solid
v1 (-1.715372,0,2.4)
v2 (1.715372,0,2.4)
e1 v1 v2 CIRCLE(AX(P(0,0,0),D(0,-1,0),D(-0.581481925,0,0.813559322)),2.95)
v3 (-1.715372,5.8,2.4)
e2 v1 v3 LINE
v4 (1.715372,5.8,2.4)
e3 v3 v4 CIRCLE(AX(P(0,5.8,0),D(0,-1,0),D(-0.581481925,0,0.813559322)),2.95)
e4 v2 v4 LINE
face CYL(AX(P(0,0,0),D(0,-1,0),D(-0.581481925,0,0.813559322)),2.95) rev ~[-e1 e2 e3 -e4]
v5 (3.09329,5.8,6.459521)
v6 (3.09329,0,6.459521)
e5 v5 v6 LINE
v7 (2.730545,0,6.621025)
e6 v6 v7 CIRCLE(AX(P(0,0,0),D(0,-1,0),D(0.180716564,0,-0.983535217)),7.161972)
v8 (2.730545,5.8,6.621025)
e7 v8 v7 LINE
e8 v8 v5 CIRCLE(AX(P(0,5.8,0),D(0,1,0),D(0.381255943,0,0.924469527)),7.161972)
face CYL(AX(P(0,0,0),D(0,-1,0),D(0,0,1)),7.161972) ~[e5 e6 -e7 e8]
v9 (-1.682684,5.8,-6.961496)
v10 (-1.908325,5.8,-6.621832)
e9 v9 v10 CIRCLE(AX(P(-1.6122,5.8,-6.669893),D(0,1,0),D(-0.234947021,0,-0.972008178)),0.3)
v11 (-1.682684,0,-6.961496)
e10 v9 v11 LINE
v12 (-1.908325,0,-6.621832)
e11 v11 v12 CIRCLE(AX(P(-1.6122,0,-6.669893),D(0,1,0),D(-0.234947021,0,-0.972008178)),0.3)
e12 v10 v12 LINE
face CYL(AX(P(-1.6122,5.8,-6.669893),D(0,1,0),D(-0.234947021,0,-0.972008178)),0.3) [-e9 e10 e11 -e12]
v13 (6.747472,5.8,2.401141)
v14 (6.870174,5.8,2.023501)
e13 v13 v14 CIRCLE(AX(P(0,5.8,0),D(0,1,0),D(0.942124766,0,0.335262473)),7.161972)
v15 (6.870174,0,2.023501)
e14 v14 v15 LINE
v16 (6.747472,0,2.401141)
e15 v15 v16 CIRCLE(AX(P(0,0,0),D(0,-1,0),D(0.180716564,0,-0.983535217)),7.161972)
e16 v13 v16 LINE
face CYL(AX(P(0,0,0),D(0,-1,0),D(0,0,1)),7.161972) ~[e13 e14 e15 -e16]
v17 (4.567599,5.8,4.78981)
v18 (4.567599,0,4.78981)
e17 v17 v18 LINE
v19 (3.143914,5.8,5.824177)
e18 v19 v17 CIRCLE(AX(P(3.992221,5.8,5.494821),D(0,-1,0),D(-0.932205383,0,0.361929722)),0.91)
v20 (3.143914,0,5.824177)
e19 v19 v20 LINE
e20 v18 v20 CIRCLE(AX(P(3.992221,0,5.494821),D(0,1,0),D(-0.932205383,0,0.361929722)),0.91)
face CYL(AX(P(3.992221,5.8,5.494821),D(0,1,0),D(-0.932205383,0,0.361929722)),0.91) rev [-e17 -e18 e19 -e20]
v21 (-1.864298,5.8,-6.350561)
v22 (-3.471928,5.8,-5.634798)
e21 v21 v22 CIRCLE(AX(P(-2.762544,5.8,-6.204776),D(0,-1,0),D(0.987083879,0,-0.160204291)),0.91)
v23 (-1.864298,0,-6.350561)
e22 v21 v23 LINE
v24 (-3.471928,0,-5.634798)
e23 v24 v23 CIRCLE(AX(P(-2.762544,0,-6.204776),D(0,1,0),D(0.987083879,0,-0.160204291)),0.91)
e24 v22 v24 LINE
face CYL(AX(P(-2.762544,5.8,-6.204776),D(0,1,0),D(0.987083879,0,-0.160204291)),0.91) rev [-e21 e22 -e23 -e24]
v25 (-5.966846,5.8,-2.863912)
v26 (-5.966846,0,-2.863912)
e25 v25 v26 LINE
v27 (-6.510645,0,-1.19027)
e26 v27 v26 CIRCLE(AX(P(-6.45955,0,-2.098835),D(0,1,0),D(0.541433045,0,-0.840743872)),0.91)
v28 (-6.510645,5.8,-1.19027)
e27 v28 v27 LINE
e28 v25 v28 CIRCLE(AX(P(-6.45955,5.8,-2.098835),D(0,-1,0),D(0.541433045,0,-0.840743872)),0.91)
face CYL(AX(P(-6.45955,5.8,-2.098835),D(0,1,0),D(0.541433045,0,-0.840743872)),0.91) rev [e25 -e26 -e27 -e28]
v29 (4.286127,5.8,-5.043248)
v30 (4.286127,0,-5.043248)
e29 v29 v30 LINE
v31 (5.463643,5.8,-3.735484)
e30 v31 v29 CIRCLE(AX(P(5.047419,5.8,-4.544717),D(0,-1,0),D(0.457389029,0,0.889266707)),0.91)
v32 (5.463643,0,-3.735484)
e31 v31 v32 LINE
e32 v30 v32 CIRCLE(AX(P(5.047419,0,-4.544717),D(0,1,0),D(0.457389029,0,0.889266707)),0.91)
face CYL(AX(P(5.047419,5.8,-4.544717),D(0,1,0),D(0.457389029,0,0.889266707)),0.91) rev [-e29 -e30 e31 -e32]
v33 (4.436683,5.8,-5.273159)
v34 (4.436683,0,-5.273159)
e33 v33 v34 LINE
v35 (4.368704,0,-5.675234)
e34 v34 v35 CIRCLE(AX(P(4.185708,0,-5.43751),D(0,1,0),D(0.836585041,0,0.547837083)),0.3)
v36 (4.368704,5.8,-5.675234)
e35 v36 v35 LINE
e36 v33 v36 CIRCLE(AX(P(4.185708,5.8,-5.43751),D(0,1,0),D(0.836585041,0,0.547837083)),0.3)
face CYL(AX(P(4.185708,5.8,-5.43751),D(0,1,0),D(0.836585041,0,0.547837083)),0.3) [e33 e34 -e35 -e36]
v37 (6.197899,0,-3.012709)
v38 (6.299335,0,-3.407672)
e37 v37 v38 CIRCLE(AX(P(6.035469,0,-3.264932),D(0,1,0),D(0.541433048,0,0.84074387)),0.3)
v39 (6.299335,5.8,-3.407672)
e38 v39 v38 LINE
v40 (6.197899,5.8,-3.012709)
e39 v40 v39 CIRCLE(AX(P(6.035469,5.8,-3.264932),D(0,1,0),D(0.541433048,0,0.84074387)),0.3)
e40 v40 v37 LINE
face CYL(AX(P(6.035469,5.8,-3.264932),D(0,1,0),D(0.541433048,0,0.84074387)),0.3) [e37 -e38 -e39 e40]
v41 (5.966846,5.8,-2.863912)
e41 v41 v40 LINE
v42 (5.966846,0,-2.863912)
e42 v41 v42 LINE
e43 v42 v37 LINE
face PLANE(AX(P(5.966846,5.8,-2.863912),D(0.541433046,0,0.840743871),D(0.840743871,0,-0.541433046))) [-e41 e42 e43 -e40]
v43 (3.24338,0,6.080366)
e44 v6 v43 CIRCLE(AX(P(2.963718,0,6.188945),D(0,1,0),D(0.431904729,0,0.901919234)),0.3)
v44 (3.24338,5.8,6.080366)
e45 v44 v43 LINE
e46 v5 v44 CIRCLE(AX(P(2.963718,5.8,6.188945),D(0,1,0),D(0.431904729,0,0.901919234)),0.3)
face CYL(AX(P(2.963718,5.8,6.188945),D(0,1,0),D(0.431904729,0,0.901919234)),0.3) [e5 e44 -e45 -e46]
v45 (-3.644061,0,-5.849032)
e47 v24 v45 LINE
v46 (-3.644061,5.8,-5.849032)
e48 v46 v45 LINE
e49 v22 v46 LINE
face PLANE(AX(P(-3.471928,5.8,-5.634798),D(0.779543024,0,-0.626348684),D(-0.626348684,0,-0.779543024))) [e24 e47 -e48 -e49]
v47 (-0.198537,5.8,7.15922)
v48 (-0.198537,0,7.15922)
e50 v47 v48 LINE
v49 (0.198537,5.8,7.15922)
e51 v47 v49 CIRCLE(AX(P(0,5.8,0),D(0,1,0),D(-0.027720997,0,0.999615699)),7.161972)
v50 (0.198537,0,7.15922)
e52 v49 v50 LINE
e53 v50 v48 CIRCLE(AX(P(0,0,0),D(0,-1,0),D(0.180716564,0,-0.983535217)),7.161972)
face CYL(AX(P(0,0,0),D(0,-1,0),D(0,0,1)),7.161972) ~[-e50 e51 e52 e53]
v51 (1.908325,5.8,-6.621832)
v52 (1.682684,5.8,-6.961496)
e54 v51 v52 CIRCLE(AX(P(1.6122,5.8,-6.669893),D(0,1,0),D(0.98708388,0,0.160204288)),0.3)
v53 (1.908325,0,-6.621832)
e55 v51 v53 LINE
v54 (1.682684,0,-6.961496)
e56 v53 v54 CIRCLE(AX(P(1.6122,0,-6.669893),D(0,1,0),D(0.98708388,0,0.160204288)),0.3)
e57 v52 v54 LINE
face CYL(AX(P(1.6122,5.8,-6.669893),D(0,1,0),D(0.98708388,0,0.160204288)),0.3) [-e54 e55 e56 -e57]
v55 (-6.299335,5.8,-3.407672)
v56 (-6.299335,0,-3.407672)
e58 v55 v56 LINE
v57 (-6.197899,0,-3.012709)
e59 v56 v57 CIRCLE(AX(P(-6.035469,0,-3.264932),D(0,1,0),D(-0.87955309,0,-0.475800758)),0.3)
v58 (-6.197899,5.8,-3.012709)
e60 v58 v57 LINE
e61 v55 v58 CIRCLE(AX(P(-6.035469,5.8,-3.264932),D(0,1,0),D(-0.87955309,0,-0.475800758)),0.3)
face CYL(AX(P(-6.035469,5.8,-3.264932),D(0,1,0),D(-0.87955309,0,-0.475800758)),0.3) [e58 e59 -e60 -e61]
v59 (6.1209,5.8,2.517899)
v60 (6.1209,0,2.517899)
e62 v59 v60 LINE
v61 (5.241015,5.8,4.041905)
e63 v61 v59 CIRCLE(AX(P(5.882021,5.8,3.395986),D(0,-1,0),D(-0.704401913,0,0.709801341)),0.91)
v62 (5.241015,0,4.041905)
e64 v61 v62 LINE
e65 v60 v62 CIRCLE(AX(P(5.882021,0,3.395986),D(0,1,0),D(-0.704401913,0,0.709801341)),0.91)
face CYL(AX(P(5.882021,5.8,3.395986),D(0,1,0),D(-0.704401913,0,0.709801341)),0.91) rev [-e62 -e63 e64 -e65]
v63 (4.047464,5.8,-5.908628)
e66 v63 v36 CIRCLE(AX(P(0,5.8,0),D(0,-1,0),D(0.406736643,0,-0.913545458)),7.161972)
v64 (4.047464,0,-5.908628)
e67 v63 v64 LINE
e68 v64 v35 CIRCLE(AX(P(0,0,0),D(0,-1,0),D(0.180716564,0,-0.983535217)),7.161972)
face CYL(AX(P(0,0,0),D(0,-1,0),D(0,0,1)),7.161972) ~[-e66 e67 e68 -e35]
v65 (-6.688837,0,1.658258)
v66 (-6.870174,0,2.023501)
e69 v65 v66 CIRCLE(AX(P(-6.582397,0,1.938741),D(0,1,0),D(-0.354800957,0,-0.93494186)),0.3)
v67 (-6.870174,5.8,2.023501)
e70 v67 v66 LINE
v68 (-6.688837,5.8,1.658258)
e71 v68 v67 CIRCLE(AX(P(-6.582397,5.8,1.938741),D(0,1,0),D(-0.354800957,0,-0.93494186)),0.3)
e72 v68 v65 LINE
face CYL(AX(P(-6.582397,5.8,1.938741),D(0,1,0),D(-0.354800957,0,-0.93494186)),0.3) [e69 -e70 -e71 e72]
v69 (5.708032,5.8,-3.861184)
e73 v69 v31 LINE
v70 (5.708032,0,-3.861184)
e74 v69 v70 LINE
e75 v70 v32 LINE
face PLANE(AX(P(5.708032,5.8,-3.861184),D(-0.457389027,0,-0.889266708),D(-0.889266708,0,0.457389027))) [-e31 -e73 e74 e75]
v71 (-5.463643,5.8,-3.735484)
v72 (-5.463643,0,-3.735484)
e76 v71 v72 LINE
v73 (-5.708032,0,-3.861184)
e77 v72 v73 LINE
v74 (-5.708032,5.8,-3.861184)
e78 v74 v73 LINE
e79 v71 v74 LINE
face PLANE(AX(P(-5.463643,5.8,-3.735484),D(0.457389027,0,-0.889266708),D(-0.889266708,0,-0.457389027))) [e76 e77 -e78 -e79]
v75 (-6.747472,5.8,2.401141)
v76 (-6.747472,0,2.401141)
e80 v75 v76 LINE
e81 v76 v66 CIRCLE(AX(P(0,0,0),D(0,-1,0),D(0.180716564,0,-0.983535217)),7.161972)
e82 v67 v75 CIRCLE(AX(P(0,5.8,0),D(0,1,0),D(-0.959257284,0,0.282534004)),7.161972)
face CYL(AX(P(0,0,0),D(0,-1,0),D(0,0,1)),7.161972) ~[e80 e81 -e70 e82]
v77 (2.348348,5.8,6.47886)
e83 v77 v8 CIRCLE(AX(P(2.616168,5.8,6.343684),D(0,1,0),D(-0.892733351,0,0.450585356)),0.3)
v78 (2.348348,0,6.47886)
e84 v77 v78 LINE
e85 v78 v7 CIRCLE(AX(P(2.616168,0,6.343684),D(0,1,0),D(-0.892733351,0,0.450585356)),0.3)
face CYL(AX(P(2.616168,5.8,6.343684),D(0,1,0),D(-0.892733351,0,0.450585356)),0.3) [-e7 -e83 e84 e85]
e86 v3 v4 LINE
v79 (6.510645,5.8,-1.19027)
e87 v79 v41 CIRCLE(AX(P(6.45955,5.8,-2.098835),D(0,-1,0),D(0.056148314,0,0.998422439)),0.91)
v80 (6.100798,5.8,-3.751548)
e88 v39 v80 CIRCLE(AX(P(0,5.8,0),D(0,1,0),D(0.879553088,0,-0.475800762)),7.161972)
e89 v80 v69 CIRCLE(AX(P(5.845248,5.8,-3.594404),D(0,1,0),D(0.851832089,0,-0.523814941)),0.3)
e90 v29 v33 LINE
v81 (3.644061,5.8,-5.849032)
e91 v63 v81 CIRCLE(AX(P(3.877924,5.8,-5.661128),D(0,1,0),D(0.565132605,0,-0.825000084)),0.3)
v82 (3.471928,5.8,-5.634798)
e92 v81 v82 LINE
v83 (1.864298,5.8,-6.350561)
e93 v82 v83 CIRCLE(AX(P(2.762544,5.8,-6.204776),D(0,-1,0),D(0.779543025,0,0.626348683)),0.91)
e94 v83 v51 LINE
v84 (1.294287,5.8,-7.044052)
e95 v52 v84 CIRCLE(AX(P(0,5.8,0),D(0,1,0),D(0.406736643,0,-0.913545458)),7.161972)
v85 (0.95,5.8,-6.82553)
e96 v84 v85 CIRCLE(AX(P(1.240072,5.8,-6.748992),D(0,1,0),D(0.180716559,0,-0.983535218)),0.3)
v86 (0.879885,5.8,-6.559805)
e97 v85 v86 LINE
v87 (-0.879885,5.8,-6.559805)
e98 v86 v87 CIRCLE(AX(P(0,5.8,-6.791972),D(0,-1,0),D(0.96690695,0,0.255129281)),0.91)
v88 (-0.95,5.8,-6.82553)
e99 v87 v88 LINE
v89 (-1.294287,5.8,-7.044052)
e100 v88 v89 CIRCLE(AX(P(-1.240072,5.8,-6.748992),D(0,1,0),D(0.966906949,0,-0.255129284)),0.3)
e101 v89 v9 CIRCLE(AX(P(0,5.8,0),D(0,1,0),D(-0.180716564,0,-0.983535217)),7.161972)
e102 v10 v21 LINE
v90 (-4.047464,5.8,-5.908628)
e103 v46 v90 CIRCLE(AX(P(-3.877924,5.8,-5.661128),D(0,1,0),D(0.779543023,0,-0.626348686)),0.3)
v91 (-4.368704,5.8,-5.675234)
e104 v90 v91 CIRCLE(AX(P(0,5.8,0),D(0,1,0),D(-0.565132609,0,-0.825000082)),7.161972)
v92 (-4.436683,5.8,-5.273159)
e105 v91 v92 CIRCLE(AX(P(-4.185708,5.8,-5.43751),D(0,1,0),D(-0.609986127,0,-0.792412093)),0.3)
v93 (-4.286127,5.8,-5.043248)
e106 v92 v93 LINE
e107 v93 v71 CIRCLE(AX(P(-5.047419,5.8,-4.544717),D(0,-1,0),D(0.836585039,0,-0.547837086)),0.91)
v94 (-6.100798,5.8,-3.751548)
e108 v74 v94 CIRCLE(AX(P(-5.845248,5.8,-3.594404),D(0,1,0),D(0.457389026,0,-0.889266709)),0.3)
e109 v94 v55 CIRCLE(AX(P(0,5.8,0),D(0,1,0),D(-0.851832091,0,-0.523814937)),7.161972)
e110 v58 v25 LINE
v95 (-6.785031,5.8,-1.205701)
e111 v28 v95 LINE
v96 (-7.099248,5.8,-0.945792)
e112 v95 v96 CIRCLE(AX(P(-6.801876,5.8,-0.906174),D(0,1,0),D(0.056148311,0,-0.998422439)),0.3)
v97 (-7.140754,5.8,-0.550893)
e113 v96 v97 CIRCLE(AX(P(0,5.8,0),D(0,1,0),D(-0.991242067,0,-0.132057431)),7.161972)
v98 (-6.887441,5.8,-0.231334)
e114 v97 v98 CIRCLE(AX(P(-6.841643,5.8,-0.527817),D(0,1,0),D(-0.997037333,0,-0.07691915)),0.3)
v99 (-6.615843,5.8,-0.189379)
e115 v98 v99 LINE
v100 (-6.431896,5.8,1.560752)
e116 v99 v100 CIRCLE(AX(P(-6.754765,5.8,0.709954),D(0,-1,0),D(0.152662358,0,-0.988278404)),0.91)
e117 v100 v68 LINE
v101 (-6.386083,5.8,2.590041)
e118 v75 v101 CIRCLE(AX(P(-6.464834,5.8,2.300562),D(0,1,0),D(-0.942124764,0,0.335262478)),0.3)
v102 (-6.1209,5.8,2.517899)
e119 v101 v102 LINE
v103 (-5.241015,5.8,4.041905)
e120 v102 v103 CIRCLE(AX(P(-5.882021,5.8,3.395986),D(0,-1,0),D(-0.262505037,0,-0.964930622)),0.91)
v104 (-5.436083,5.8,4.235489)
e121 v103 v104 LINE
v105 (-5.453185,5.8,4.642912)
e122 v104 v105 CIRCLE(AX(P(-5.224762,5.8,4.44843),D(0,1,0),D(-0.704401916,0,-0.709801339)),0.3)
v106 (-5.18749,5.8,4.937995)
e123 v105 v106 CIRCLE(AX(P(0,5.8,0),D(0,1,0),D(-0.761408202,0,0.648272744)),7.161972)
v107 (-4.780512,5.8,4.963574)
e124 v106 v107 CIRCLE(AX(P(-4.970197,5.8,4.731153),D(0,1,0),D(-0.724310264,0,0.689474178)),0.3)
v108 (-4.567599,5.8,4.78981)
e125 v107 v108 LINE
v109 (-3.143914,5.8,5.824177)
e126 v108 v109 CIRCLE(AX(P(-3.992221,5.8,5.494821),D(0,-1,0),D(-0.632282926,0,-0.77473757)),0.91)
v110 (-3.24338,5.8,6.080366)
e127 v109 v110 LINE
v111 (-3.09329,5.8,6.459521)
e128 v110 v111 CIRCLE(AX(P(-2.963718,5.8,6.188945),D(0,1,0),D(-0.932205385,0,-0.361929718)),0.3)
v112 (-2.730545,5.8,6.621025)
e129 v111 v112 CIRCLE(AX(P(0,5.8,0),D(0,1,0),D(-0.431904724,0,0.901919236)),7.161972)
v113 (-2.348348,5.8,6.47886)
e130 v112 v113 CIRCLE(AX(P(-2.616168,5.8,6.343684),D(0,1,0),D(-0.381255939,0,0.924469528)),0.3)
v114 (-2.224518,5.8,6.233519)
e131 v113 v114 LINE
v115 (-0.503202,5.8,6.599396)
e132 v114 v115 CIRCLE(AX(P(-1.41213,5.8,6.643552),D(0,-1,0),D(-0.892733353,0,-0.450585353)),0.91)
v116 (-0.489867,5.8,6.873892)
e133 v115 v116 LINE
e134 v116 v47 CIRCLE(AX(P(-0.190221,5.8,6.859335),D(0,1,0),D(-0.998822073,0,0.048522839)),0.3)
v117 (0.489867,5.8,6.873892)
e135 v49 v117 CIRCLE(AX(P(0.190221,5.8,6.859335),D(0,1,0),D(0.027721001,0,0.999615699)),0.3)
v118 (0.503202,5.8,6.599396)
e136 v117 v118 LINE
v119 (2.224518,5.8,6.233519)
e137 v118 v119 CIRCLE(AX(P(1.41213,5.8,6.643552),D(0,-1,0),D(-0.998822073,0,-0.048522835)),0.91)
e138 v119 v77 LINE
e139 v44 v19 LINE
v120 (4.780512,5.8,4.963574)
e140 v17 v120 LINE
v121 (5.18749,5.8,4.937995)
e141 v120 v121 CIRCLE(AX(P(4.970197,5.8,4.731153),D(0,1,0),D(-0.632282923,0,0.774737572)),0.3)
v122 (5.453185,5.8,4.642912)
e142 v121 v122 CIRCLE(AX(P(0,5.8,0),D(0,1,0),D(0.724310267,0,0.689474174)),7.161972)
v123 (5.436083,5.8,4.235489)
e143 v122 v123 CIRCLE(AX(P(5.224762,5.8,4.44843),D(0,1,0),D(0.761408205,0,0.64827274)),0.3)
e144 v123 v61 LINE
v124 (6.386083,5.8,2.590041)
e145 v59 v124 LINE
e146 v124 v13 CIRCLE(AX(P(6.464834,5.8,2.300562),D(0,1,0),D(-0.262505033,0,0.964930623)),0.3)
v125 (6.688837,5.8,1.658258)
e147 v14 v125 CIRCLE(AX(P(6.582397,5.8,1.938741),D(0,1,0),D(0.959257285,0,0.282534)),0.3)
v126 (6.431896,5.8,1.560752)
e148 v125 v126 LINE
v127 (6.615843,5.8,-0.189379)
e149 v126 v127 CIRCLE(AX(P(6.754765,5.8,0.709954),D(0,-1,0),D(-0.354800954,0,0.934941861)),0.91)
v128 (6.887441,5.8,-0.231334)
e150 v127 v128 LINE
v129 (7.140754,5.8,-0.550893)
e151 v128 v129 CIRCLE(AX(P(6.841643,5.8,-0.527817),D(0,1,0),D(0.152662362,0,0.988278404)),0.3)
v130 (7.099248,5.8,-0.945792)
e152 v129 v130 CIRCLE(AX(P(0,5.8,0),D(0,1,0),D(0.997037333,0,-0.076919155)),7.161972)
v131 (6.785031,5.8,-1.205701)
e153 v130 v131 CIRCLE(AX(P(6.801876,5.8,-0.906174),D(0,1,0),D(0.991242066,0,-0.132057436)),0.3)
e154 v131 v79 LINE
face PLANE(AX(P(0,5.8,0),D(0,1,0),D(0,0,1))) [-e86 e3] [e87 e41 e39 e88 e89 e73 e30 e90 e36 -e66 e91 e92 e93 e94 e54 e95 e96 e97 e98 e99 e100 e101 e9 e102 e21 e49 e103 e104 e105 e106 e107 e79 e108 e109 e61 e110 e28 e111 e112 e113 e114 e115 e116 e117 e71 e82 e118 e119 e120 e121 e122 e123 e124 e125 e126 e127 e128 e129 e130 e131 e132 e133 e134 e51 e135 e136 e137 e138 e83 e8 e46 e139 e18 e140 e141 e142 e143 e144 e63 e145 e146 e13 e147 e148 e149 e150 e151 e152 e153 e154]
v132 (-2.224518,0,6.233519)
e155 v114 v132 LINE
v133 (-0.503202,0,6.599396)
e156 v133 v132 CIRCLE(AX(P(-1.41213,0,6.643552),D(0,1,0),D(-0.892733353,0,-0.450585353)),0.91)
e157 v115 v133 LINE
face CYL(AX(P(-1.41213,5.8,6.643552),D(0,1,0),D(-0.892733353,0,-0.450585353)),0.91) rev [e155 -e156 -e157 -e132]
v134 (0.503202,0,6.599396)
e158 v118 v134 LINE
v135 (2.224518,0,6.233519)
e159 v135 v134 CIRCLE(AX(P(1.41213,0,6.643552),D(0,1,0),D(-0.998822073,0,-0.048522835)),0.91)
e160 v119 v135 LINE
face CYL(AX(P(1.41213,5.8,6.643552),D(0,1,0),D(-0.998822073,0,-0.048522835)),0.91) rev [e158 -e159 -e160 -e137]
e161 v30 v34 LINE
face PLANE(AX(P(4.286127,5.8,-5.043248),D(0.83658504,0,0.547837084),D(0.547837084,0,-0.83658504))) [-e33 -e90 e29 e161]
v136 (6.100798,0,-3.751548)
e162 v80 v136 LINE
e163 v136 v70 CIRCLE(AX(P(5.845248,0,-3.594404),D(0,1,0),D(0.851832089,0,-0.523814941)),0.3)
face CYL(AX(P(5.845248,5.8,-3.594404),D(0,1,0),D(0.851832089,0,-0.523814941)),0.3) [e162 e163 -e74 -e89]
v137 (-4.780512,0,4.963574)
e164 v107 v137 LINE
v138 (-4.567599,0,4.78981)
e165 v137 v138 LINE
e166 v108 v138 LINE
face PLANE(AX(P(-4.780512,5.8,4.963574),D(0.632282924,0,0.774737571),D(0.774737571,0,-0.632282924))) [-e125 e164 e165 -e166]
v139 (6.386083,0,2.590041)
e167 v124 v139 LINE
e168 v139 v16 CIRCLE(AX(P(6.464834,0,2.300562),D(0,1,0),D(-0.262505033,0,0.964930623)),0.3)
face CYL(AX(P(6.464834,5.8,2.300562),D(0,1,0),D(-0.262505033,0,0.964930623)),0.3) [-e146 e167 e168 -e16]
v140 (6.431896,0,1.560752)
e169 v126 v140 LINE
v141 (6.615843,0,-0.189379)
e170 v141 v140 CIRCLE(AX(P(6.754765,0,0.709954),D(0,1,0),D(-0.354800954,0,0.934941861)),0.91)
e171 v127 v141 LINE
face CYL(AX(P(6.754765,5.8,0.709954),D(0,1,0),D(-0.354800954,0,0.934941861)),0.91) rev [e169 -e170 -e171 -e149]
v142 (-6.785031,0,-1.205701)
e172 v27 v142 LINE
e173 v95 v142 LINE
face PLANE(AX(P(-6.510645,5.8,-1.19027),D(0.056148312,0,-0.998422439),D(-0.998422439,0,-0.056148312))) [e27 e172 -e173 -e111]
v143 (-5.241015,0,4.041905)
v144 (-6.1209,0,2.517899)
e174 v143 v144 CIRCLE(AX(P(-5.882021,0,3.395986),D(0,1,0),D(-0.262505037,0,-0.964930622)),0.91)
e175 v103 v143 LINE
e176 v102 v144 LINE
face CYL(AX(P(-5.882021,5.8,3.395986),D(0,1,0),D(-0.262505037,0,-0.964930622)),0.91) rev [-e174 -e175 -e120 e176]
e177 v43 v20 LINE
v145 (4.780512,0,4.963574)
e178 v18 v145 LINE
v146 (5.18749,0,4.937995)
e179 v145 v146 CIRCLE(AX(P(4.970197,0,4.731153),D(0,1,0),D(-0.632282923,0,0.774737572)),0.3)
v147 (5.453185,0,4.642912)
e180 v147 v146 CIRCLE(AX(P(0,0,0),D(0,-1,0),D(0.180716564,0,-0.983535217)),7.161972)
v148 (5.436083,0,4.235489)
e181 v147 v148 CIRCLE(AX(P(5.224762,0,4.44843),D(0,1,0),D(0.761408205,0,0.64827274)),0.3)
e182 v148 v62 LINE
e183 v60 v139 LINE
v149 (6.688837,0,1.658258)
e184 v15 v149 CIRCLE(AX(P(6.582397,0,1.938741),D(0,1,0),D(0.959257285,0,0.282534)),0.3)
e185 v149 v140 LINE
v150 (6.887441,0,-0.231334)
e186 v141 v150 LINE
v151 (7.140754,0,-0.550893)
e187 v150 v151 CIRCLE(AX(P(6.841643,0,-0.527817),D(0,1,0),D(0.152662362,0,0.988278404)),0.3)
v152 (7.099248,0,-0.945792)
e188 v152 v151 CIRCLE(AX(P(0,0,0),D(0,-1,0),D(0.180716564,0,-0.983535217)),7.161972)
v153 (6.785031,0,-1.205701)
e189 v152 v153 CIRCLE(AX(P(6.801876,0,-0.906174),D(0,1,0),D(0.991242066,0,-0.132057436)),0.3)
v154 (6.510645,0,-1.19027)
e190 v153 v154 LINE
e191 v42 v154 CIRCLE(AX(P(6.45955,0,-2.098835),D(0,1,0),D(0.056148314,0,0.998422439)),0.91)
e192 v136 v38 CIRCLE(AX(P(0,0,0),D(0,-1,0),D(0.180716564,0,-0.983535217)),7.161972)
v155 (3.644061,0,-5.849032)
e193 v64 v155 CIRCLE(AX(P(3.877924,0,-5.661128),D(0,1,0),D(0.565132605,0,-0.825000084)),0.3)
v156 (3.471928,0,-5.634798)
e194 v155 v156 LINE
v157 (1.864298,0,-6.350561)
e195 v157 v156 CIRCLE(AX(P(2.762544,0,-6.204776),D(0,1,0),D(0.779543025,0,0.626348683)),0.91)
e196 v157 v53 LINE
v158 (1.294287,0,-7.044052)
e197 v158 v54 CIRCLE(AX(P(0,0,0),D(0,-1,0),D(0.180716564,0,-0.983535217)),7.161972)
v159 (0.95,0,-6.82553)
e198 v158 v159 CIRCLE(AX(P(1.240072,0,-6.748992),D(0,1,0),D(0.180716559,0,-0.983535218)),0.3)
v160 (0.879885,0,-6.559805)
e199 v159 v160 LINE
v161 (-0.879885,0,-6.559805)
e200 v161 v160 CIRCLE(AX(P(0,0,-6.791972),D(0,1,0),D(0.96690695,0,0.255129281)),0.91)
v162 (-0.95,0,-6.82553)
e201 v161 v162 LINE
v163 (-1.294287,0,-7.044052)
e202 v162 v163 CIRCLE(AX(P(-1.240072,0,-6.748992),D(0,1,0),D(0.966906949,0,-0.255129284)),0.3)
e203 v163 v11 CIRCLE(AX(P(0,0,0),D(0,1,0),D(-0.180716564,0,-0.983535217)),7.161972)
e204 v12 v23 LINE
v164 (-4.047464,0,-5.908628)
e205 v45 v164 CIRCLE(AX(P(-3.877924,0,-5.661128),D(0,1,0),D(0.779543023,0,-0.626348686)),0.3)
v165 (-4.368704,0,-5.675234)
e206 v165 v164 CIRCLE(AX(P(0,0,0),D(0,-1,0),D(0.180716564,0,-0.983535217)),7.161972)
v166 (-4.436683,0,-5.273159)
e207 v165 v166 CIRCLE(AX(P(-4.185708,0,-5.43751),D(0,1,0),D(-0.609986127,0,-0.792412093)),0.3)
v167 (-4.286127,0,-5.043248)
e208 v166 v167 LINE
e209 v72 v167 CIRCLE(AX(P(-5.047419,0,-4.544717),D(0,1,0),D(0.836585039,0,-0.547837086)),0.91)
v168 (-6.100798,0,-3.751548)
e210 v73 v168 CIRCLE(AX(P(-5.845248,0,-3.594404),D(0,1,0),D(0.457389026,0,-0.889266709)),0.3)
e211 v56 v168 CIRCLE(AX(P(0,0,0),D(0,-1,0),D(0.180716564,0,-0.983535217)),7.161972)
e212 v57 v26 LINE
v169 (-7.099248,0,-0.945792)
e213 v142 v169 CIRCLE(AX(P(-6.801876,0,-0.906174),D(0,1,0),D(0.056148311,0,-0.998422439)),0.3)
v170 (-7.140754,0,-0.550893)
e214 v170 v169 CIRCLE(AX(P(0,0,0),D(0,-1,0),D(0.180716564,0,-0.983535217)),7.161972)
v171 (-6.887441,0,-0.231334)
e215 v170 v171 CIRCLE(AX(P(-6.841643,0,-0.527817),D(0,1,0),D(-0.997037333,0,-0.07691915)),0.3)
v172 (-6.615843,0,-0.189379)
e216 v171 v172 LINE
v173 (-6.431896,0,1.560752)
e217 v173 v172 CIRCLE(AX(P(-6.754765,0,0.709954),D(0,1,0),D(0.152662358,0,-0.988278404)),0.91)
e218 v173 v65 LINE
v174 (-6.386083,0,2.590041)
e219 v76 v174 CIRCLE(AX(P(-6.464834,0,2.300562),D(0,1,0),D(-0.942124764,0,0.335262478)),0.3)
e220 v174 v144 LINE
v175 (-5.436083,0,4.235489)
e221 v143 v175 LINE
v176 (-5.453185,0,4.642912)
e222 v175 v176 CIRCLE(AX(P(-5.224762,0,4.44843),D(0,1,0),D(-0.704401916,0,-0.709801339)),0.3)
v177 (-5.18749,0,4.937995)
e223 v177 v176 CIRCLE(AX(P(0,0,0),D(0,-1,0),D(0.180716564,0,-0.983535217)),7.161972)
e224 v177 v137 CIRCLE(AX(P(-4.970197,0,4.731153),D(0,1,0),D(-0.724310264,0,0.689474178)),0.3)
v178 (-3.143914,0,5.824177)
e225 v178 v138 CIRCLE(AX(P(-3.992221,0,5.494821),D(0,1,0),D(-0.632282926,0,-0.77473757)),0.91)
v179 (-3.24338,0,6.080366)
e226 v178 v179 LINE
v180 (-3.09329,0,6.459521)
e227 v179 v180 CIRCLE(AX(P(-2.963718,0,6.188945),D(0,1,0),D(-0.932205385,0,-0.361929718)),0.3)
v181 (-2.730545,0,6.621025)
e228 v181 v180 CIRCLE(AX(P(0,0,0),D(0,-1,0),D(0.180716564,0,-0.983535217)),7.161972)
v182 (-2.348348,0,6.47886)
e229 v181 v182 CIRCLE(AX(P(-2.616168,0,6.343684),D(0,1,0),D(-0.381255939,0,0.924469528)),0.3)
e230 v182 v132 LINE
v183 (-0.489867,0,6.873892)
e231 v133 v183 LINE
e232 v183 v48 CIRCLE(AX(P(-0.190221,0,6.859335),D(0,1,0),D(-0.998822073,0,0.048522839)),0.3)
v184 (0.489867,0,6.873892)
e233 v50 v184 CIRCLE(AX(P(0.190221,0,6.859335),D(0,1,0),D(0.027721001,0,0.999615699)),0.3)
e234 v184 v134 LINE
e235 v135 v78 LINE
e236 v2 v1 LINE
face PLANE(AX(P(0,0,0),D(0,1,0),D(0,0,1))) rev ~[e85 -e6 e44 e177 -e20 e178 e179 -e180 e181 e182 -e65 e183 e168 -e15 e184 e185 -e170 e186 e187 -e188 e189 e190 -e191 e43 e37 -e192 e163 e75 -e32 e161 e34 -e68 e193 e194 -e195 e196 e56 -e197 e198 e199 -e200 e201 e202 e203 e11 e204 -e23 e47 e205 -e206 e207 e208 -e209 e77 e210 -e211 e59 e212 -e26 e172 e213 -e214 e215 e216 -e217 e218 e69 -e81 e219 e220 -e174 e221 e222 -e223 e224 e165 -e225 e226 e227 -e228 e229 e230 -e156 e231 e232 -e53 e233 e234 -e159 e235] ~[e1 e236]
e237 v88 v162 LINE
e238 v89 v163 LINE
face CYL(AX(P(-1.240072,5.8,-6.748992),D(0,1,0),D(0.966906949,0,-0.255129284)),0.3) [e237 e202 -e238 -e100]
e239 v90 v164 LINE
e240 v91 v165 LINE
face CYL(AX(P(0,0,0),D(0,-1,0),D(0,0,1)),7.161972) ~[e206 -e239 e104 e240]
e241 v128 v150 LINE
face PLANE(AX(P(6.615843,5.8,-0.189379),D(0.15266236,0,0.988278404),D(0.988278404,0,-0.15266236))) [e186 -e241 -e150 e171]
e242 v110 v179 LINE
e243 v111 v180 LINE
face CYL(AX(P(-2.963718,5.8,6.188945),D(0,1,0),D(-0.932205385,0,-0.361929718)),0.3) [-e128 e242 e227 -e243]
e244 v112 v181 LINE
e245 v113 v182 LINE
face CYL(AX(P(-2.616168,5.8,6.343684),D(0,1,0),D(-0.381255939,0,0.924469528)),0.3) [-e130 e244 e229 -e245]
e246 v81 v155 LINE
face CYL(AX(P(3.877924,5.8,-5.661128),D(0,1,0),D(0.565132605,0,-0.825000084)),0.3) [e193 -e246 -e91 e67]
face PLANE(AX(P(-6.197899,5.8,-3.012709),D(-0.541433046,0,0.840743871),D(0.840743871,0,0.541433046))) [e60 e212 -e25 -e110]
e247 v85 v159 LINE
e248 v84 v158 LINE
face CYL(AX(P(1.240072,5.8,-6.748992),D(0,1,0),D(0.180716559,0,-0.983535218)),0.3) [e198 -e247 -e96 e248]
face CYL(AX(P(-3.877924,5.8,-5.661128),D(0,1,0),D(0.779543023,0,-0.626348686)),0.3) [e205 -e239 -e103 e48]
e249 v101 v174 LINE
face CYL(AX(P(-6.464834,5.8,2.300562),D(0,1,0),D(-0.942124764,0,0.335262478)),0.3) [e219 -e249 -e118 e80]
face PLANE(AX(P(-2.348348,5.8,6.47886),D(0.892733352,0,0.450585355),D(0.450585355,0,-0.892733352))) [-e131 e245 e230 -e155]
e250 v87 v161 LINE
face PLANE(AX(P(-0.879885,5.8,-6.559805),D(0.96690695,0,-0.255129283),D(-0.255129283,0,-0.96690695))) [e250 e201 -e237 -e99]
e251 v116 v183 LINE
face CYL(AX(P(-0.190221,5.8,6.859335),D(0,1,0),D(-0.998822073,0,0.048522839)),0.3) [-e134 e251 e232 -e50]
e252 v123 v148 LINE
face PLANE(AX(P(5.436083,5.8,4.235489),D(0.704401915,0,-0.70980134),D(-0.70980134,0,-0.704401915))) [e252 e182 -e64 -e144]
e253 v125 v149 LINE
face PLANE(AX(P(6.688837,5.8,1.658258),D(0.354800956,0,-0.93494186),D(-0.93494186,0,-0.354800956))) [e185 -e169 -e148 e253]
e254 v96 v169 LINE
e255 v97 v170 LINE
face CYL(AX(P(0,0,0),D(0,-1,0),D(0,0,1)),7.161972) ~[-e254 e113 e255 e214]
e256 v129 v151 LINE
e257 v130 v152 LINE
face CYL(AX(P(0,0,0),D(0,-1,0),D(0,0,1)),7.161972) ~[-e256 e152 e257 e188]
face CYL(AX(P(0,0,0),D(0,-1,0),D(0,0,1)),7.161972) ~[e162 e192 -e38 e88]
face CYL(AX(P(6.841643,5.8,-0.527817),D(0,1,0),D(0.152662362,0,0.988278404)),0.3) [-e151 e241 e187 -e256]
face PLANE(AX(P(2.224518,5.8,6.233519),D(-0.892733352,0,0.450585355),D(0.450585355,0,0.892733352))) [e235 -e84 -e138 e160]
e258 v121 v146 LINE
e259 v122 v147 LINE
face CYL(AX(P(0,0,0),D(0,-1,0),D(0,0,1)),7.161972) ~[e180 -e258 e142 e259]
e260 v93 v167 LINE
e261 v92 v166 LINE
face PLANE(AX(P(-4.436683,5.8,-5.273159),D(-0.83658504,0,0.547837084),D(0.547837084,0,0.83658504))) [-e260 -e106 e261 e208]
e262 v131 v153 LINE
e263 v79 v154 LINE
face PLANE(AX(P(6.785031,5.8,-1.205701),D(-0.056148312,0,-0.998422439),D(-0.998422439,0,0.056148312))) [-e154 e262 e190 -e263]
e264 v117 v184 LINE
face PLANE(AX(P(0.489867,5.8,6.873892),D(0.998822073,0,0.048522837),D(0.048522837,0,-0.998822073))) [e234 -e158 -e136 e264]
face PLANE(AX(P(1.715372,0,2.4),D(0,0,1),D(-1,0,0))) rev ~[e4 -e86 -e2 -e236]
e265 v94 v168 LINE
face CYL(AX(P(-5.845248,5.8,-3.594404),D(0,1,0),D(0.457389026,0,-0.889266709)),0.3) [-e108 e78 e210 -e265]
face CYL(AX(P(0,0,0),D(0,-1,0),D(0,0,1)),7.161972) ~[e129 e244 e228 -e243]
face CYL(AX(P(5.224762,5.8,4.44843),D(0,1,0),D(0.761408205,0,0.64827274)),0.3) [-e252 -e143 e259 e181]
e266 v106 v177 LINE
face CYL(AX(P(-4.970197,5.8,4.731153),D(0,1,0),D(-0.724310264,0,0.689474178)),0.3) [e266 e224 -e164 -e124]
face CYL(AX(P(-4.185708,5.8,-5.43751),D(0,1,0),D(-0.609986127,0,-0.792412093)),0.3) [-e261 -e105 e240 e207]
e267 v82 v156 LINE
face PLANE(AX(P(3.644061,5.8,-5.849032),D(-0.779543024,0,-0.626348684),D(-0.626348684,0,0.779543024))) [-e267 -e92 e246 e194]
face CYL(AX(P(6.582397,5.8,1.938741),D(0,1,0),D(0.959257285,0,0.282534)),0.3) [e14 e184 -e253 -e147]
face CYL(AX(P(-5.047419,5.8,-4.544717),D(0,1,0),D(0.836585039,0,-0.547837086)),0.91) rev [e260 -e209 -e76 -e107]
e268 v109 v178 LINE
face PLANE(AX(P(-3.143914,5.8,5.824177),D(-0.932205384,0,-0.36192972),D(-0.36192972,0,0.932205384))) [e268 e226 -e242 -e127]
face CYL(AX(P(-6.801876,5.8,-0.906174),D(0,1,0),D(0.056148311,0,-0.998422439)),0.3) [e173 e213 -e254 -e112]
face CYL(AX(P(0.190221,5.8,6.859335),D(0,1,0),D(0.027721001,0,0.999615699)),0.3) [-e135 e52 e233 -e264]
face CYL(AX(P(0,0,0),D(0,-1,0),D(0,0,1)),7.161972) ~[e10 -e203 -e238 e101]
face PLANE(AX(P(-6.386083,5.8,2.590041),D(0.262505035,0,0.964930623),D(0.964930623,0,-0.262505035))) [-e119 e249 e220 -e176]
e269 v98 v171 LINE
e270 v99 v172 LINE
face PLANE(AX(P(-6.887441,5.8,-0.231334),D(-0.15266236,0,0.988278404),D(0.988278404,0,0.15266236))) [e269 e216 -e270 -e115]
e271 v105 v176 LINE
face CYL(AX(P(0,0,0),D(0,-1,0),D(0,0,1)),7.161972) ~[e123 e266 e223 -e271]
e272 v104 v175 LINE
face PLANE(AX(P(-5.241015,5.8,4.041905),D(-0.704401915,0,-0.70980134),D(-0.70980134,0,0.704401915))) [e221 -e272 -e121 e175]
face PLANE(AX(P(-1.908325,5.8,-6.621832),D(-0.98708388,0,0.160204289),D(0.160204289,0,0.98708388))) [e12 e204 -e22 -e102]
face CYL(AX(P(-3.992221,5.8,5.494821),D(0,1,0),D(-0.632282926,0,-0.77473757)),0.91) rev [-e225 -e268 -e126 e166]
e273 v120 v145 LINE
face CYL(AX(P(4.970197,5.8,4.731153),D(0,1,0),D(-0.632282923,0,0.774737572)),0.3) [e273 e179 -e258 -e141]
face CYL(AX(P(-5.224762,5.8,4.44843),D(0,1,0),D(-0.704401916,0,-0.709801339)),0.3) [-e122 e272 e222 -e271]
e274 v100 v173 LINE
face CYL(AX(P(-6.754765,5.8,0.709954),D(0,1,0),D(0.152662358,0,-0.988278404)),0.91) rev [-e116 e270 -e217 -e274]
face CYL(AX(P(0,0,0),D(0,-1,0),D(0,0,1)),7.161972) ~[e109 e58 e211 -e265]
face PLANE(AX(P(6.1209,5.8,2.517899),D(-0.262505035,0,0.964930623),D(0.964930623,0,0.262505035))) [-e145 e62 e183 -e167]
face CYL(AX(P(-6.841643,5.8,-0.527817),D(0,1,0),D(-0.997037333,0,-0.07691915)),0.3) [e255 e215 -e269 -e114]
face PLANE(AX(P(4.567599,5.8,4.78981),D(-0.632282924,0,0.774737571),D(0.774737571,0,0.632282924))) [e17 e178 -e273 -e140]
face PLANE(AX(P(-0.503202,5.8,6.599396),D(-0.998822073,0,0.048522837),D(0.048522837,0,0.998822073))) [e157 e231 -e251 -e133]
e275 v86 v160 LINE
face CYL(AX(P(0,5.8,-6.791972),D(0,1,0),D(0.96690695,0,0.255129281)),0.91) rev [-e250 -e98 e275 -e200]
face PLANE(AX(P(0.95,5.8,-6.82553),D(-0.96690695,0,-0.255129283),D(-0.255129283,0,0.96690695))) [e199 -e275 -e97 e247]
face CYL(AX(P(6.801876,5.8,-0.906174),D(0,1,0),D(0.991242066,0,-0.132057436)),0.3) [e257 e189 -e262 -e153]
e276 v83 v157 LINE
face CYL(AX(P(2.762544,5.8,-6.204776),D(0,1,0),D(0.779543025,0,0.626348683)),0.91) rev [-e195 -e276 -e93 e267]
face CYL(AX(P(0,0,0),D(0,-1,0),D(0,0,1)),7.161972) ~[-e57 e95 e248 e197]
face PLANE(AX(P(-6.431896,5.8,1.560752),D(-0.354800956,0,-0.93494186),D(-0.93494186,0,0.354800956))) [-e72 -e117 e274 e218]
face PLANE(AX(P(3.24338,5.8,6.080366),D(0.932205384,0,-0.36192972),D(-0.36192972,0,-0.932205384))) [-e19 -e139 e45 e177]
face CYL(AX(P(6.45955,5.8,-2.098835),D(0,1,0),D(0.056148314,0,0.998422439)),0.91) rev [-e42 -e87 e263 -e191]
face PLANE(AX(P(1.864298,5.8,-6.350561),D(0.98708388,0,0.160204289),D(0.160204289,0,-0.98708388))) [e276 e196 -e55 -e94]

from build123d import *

# Parameters (mm, degrees)
SKETCH1_R           = 7.161972439
BOSS_EXTRUDE1_DEPTH = 5.8
CUT_EXTRUDE1_DEPTH  = 12.671662197
CIRPATTERN1_COUNT   = 15
CUT_EXTRUDE2_DEPTH  = 12.659198501


with BuildPart() as part:
    # Sketch1 → Boss-Extrude1 (new body)
    with BuildSketch(Plane(origin=(0, 0, 0), x_dir=(1, 0, 0), z_dir=(0, 1, 0))):
        with Locations(Location((0, 0, 0), (0, 0, 270))):
            Circle(SKETCH1_R)
    extrude(amount=BOSS_EXTRUDE1_DEPTH)

    # Sketch2 → Cut-Extrude1 (cut, through all)
    with BuildSketch(Plane(origin=(0, 5.8, 0), x_dir=(1, 0, 0), z_dir=(0, 1, 0))):
        with BuildLine():
            Line((-0.879885324, 6.559804793), (-0.95, 6.825530337))
            ThreePointArc((-0.95, 6.825530337), (-1.079308013, 7.002279754), (-1.294287054, 7.044052118))
            ThreePointArc((-1.294287054, 7.044052118), (-2.118539526, 6.841464719), (-2.913036628, 6.54278739))
            Line((-2.913036628, 6.54278739), (-2.913036628, 7.161972439))
            Line((-2.913036628, 7.161972439), (2.913036628, 7.161972439))
            Line((2.913036628, 7.161972439), (2.913036628, 6.54278739))
            ThreePointArc((2.913036628, 6.54278739), (2.118539526, 6.841464719), (1.294287054, 7.044052118))
            ThreePointArc((1.294287054, 7.044052118), (1.079308013, 7.002279754), (0.95, 6.825530337))
            Line((0.95, 6.825530337), (0.879885324, 6.559804793))
            ThreePointArc((0.879885324, 6.559804793), (0, 5.881972439), (-0.879885324, 6.559804793))
        make_face()
    cut_extrude1 = extrude(amount=-CUT_EXTRUDE1_DEPTH, mode=Mode.SUBTRACT)

    # CirPattern1: Cut-Extrude1 ×15 about axis
    cirpattern1_axis = Axis((0, 0, 0), (0, 1, 0))
    for i in range(1, CIRPATTERN1_COUNT):
        add(cut_extrude1.rotate(cirpattern1_axis, i * 360 / CIRPATTERN1_COUNT), mode=Mode.SUBTRACT)

    # Sketch3 → Cut-Extrude2 (cut, through all)
    with BuildSketch(Plane.XZ):
        with BuildLine():
            Line((1.71537168, 2.4), (-1.71537168, 2.4))
            ThreePointArc((-1.71537168, 2.4), (0, -2.95), (1.71537168, 2.4))
        make_face()
    extrude(amount=-CUT_EXTRUDE2_DEPTH, mode=Mode.SUBTRACT)


solid = part.part
